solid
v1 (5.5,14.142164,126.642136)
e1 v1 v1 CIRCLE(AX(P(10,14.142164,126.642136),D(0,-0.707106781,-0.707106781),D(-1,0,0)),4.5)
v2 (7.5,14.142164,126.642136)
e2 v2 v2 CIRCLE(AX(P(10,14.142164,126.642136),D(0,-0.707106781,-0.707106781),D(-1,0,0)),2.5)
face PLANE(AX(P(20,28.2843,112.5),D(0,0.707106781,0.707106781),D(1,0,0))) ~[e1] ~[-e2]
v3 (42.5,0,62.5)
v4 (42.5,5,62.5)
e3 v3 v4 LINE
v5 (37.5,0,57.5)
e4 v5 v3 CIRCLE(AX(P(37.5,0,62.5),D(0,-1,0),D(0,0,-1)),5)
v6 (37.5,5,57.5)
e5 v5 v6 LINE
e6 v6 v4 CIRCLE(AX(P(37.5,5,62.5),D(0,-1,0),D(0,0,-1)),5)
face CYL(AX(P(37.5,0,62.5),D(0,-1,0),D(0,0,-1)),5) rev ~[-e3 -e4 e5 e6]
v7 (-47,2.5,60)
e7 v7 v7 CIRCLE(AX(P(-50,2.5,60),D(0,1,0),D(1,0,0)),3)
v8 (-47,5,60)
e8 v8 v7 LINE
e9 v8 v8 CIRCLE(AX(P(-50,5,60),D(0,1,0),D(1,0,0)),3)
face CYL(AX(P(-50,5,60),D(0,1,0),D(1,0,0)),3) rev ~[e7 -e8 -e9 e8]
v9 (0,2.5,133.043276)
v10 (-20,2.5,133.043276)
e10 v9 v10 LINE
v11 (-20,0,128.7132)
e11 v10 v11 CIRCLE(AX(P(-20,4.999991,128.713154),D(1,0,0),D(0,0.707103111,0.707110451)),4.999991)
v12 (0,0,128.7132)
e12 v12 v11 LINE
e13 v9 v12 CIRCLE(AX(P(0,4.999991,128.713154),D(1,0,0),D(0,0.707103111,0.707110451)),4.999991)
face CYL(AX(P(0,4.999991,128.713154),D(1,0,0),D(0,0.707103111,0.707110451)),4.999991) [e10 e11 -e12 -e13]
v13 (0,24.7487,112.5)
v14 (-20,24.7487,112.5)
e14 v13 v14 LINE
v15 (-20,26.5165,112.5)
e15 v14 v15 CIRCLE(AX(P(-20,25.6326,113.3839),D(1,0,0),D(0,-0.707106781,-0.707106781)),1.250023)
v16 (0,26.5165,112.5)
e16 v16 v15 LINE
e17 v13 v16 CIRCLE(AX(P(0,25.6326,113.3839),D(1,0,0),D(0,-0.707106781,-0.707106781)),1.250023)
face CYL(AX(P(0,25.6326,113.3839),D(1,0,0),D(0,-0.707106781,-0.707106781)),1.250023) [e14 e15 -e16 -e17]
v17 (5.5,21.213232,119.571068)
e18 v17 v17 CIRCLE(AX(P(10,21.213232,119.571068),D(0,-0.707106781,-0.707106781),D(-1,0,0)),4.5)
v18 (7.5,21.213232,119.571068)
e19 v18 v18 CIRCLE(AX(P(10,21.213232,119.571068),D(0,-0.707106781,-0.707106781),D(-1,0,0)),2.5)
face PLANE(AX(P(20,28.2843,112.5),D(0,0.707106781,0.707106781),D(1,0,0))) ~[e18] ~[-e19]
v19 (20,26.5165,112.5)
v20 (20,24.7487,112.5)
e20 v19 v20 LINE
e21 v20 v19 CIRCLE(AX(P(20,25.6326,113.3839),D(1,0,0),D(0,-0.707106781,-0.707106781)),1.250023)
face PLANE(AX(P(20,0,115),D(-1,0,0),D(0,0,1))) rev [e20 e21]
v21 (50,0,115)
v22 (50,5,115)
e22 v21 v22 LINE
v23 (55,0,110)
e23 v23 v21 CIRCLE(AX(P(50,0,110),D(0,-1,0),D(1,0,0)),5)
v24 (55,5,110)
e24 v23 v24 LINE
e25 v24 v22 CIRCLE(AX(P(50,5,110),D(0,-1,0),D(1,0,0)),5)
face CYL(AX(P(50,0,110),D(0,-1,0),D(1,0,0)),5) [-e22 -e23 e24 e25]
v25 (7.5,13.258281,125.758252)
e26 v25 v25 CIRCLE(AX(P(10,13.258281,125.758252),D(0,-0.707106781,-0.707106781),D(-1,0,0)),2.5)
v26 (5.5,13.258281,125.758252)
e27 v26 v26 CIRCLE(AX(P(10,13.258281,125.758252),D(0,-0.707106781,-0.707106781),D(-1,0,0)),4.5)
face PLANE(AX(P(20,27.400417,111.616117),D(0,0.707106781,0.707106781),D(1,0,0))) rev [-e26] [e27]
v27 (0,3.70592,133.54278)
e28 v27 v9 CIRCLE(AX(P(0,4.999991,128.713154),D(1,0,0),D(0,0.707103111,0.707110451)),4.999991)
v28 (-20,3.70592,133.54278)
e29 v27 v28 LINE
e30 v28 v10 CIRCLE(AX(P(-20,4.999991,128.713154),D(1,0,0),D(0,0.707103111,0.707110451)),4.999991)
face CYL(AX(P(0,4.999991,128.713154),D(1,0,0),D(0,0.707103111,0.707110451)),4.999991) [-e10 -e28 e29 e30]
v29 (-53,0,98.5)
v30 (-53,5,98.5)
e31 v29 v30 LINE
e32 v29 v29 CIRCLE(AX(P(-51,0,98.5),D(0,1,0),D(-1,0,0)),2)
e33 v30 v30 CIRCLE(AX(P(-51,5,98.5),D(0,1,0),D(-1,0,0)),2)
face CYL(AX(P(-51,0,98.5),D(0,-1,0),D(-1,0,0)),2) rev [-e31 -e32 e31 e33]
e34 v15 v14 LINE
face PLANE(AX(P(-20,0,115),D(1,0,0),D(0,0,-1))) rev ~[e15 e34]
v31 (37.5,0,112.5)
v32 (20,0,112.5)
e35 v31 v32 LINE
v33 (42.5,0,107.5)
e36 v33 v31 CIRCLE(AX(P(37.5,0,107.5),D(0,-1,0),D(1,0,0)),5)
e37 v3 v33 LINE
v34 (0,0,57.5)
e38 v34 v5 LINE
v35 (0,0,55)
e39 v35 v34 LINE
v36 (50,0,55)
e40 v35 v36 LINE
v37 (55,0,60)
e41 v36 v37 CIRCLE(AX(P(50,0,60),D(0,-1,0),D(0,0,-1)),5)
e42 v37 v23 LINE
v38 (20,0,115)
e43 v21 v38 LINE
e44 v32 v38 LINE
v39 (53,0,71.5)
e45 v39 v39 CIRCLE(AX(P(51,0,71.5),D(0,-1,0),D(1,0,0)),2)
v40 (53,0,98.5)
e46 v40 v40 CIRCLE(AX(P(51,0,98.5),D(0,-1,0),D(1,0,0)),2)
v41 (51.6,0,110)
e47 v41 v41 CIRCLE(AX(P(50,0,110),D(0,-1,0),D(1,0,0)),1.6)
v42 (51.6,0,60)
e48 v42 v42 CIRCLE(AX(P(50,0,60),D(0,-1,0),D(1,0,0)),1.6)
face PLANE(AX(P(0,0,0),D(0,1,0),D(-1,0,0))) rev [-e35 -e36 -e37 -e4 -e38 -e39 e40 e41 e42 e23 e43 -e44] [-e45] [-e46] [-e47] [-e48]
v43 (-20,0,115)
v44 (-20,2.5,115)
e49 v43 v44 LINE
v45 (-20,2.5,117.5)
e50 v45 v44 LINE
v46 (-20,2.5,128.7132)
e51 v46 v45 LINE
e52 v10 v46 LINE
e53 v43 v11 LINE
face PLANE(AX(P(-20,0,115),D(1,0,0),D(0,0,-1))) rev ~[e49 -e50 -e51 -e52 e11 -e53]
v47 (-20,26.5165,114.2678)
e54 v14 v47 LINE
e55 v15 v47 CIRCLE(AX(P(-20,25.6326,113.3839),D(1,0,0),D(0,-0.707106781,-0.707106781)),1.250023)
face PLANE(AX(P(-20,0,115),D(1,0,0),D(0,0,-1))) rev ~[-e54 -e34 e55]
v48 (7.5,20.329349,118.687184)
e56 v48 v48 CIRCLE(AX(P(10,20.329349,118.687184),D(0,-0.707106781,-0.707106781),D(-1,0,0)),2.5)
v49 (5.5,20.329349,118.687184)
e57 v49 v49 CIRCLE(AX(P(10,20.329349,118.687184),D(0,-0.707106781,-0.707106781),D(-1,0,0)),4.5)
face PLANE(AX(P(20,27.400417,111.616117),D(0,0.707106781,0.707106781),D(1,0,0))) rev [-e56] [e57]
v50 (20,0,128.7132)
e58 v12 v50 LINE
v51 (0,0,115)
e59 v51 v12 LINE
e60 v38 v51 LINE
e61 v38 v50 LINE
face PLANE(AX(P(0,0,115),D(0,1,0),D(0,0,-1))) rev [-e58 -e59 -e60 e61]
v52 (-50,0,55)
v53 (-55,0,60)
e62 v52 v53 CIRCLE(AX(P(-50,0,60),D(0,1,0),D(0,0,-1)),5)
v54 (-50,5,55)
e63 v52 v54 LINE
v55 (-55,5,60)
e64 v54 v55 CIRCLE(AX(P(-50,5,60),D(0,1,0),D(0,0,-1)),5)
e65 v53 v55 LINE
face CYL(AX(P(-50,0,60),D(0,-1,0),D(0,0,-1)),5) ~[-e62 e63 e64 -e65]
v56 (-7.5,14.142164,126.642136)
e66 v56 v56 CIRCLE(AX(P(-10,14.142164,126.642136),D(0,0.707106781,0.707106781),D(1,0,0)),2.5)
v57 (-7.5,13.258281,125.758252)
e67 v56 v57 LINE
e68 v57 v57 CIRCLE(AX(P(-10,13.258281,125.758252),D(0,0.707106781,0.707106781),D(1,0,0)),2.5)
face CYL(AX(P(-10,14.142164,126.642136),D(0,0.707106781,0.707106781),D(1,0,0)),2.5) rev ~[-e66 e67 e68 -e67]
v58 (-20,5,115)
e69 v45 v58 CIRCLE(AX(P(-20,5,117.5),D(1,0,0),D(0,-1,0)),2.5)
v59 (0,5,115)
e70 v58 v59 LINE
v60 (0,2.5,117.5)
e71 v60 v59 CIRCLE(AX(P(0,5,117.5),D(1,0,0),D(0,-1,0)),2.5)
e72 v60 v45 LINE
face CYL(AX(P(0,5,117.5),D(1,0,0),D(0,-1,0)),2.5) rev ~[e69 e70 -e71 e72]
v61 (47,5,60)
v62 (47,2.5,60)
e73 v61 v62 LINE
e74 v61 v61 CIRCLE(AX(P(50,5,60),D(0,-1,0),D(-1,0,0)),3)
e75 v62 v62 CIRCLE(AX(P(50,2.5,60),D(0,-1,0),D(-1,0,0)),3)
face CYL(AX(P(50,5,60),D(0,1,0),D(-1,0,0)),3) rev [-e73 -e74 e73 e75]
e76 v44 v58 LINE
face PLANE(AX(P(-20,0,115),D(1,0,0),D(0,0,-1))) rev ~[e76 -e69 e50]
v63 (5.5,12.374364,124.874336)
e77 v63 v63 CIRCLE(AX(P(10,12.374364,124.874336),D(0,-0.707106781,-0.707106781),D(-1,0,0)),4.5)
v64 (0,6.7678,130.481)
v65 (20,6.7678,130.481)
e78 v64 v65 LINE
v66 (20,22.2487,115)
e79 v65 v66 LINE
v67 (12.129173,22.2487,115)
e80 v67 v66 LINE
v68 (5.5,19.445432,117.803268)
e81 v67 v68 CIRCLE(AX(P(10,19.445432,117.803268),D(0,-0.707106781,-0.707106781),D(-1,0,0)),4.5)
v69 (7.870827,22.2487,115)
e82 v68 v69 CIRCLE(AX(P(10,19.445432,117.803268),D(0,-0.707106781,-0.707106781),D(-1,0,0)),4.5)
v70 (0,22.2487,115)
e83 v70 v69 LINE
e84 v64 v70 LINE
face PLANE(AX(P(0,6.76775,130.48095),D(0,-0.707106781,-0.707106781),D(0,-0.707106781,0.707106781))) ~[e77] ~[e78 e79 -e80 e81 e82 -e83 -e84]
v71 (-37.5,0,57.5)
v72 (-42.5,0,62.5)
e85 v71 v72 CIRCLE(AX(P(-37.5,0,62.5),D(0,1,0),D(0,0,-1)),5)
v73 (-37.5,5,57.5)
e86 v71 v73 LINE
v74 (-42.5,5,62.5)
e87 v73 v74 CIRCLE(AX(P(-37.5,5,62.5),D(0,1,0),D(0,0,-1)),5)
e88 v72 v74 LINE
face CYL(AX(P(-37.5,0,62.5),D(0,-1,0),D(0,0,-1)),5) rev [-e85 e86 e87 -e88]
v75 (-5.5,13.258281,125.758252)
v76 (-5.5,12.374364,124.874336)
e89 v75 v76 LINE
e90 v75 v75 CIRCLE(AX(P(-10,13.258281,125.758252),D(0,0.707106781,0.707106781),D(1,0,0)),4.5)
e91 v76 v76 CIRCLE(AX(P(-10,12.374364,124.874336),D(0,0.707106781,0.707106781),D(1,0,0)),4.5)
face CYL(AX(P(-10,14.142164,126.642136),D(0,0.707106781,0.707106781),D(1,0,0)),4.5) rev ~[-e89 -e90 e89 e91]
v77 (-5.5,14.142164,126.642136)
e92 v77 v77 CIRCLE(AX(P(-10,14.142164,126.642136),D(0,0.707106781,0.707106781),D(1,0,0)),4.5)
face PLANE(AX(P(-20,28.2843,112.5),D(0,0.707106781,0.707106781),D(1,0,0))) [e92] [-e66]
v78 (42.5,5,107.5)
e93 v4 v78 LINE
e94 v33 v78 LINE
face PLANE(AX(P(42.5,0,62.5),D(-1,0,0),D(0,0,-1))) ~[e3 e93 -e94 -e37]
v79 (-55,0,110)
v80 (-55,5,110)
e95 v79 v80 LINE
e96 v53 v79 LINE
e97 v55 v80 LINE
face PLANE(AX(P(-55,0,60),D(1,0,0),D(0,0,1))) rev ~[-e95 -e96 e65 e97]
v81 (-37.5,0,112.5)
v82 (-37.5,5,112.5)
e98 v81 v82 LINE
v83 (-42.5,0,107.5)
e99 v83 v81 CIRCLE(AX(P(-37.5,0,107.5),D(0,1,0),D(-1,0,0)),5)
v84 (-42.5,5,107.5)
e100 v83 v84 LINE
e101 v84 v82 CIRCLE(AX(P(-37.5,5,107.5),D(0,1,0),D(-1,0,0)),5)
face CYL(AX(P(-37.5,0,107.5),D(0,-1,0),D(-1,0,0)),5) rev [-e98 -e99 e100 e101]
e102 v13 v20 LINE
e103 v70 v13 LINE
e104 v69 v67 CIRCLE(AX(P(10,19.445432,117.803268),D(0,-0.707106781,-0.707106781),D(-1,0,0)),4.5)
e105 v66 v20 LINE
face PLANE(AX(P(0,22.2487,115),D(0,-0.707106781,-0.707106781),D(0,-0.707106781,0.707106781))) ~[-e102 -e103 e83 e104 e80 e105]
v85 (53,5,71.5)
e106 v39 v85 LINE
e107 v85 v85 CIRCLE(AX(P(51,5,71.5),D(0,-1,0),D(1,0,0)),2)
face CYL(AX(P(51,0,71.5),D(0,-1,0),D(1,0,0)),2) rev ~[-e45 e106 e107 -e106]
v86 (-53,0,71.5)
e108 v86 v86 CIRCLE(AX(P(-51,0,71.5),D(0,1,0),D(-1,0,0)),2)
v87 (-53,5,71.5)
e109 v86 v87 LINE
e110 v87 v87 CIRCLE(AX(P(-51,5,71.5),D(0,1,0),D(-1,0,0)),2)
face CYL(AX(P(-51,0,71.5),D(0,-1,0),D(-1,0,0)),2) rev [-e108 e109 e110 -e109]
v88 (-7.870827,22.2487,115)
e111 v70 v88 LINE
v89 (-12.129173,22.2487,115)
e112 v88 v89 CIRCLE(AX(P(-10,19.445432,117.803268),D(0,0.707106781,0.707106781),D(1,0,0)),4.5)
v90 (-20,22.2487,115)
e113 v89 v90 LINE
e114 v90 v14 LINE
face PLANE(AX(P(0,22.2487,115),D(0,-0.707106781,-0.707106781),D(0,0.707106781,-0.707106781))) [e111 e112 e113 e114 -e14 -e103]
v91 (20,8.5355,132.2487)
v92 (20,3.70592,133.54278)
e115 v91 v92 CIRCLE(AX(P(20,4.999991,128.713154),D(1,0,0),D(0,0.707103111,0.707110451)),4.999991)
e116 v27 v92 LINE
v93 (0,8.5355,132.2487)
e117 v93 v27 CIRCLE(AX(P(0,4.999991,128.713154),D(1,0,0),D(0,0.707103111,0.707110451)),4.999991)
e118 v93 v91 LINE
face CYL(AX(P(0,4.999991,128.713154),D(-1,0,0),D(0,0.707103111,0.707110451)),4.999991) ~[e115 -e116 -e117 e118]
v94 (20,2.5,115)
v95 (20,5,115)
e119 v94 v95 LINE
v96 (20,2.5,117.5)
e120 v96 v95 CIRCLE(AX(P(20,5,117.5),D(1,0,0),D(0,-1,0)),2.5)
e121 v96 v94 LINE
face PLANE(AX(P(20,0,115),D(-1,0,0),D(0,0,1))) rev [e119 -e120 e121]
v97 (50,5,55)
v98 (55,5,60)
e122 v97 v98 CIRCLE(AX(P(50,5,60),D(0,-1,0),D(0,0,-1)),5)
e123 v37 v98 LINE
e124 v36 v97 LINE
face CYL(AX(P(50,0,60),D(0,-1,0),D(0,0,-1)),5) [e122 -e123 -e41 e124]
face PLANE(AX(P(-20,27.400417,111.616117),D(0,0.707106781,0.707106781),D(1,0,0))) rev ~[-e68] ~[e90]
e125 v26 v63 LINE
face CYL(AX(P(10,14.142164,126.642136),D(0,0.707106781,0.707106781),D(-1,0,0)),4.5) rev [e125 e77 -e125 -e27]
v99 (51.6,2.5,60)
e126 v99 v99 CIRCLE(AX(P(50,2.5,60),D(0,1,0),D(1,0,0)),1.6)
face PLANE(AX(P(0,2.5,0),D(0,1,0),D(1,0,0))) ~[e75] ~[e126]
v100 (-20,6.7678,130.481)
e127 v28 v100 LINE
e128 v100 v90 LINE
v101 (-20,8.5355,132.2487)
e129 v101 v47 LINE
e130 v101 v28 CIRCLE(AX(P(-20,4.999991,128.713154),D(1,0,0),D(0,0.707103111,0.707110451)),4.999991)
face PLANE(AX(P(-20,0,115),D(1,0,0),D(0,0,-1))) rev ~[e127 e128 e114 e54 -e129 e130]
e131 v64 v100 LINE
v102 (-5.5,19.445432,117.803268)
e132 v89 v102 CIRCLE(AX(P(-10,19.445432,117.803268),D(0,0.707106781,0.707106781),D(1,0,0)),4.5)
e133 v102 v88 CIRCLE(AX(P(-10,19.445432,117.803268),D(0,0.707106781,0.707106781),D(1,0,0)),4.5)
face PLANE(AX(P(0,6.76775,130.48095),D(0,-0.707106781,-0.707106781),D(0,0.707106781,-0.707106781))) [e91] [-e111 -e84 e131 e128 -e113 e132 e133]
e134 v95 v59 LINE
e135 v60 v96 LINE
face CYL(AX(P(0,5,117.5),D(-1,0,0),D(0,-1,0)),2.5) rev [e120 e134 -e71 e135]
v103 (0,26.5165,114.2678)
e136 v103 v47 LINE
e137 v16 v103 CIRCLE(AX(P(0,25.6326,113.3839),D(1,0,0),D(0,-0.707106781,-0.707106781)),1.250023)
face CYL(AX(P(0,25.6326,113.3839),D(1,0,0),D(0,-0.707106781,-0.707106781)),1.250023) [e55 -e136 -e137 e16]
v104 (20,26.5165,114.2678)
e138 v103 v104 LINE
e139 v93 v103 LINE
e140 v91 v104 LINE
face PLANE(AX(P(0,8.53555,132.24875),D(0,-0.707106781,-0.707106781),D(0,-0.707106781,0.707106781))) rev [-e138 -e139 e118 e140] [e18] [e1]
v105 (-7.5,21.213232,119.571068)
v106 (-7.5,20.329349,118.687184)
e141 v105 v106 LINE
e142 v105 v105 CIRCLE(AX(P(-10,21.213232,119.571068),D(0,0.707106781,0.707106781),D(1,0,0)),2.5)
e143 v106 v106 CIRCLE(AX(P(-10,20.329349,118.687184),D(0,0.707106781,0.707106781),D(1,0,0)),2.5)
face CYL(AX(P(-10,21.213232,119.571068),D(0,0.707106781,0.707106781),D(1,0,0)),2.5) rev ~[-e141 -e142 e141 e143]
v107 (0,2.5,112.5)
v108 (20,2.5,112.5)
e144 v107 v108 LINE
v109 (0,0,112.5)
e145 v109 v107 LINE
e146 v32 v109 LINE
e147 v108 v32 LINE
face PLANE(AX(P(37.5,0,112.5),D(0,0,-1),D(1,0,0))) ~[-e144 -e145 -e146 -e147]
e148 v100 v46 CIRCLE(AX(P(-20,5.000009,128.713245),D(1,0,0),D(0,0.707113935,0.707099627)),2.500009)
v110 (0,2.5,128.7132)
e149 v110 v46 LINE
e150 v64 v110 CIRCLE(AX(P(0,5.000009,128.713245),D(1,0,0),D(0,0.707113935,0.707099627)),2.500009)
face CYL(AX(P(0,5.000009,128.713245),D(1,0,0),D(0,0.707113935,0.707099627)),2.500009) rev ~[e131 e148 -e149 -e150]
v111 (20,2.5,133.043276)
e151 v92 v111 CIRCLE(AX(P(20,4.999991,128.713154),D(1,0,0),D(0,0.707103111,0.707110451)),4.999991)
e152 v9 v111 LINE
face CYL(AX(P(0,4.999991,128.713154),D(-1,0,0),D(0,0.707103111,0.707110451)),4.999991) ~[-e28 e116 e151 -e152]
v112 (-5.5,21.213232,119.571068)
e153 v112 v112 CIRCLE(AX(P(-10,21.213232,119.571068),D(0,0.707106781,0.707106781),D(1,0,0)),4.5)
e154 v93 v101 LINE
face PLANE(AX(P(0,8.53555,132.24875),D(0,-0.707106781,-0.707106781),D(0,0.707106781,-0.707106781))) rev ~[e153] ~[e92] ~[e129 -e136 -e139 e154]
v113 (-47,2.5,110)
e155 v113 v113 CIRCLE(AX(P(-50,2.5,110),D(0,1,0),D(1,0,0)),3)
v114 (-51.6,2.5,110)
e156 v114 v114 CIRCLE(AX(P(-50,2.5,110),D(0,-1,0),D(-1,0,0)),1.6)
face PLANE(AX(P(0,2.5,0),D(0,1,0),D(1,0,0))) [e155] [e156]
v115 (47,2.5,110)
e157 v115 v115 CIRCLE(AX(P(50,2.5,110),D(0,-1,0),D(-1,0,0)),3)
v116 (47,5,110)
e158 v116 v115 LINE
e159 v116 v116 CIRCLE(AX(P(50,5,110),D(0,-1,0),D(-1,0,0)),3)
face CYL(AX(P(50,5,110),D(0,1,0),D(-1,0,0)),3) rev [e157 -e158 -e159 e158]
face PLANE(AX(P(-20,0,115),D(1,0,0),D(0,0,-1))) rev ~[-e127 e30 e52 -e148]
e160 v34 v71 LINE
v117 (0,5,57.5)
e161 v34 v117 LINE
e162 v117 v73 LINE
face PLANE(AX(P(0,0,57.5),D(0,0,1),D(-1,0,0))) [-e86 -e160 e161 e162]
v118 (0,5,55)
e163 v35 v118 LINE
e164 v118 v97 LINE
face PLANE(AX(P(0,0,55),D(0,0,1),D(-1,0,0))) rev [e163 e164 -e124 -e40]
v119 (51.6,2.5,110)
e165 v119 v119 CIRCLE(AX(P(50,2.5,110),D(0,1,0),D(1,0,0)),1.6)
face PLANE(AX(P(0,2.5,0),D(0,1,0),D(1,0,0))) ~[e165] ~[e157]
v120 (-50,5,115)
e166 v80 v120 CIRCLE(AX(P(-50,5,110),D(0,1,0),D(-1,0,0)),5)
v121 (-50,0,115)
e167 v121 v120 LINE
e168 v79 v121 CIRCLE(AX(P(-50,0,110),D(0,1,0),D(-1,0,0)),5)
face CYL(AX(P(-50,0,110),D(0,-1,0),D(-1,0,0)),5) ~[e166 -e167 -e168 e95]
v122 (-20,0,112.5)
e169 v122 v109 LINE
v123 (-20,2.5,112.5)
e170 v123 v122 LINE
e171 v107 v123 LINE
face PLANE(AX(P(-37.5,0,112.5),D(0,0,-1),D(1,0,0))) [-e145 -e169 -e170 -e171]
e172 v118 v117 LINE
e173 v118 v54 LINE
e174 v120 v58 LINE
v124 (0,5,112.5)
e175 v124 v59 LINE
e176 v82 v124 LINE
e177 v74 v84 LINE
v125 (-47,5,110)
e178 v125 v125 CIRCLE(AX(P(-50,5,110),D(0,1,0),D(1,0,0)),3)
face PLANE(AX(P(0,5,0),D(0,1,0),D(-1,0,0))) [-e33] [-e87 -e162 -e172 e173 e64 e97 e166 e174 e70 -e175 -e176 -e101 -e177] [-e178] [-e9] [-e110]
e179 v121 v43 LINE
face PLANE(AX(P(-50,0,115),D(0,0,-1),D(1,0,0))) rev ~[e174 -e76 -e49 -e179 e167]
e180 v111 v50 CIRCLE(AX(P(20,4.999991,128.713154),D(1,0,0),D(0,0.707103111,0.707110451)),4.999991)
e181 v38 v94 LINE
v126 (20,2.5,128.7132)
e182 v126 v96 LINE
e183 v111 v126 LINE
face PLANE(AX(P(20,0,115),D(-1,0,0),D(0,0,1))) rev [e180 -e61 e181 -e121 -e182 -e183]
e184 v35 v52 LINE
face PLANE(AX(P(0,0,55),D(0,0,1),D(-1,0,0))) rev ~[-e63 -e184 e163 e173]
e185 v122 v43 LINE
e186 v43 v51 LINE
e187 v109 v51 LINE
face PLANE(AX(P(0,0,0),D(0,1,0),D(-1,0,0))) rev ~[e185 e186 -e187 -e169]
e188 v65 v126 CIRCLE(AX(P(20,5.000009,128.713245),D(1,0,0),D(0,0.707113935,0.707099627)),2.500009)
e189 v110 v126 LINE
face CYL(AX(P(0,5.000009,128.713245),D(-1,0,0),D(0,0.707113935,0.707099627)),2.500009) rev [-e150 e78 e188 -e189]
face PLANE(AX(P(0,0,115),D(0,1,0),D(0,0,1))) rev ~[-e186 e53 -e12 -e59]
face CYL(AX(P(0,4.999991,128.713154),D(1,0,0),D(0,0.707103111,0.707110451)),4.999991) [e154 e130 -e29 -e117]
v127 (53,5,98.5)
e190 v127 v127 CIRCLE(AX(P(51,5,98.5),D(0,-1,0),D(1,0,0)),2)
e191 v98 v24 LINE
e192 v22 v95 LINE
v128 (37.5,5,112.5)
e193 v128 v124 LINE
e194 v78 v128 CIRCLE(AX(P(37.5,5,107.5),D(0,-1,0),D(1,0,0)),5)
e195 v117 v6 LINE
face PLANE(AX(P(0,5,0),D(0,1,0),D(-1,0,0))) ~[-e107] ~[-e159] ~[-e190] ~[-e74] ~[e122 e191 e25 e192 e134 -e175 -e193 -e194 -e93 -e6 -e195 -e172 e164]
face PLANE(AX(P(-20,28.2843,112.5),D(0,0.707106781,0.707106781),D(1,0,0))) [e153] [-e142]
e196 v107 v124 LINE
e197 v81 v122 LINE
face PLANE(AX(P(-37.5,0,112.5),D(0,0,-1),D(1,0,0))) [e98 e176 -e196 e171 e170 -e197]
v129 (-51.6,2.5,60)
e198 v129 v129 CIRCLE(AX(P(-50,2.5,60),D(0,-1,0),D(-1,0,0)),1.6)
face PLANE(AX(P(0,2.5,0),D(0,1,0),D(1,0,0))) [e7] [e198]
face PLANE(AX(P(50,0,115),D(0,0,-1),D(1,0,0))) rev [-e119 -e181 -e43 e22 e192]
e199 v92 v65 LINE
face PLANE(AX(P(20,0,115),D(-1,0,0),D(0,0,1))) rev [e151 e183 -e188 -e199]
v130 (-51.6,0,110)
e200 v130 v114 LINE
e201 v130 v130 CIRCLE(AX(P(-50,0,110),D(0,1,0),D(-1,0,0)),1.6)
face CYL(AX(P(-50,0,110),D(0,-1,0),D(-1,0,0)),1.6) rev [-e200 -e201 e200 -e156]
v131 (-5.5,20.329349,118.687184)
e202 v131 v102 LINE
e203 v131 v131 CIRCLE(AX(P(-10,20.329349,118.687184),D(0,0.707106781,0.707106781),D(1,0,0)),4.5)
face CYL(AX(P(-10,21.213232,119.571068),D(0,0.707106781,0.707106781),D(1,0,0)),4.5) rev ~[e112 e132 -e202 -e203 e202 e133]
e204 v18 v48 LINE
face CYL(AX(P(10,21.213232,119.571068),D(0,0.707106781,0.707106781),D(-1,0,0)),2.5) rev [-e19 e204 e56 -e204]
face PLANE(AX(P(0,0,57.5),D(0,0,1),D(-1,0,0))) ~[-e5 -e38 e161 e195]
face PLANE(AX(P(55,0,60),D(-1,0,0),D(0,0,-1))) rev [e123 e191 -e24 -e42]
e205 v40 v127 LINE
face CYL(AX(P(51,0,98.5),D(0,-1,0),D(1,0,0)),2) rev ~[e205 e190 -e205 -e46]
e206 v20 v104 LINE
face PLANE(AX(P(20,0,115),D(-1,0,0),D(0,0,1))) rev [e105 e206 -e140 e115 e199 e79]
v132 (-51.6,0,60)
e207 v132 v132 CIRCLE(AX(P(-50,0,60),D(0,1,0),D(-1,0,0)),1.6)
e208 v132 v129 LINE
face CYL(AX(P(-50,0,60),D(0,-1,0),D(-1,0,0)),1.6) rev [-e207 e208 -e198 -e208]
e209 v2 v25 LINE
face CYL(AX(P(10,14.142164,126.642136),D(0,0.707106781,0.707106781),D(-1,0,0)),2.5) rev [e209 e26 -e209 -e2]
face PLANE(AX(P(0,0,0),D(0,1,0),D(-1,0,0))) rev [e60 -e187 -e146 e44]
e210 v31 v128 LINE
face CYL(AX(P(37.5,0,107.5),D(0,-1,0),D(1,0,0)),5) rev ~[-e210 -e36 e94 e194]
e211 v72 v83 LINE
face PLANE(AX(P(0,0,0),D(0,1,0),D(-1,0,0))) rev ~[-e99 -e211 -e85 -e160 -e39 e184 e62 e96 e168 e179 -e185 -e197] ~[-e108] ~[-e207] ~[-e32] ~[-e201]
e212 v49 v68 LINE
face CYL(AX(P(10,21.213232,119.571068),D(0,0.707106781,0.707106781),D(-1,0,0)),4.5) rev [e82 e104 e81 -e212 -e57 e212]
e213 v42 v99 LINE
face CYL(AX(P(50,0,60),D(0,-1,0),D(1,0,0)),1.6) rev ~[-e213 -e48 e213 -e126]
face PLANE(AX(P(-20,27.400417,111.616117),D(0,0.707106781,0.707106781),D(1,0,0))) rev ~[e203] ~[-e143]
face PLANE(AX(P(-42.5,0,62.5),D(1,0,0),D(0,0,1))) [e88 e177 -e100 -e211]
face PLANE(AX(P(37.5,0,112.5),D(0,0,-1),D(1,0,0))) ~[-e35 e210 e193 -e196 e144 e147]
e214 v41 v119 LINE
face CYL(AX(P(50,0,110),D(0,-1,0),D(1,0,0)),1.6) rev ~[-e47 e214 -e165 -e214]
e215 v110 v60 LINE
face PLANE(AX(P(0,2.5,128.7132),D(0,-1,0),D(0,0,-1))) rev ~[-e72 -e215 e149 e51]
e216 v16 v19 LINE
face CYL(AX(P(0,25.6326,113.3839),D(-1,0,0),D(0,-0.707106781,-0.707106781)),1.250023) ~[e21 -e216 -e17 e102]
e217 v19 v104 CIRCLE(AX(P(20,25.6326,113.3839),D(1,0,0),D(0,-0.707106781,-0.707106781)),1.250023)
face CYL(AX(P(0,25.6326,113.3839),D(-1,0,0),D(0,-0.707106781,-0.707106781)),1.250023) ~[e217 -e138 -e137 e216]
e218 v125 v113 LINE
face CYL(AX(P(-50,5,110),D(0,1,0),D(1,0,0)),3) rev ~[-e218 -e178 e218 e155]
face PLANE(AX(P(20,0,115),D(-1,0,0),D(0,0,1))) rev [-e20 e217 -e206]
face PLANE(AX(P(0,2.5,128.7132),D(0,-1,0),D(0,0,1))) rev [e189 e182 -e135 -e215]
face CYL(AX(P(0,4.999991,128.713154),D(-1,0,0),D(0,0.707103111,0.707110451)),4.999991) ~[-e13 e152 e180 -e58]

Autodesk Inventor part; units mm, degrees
ref_plane "YZ Plane" through (0, 0, 0) normal (1, 0, 0) x (0, 1, 0)
ref_plane "XZ Plane" through (0, 0, 0) normal (0, 1, 0) x (-1, 0, 0)
ref_plane "XY Plane" through (0, 0, 0) normal (0, 0, 1) x (1, 0, 0)
sketch "Sketch1" plane through (0, 0, 0) normal (0, 1, 0) x (-1, 0, 0)
  line L0 (0, 0) -> (0, 150.5)
  line L1 (47.6822, -16.05) -> (47.6822, -184.7082) construction
  line L2 (47.6822, -184.7082) -> (-45.5409, -184.7082) construction
  line L3 (-45.5409, -184.7082) -> (-45.5409, -16.05) construction
  line L4 (-45.5409, -16.05) -> (47.6822, -16.05) construction
  line L5 (51, 71) -> (51, 72) construction
  line L6 (53, 71) -> (53, 72) construction
  line L7 (49, 72) -> (49, 71) construction
  arc A0 (49, 71) -> (53, 71) centre (51, 71) ccw construction
  arc A1 (53, 72) -> (49, 72) centre (51, 72) ccw construction
  line L8 (0, 85) -> (64.5191, 85) construction
  line L9 (51, 99) -> (51, 98) construction
  line L10 (53, 99) -> (53, 98) construction
  line L11 (49, 98) -> (49, 99) construction
  arc A2 (53, 99) -> (49, 99) centre (51, 99) ccw construction
  arc A3 (49, 98) -> (53, 98) centre (51, 98) ccw construction
  line L12 (50, 115) -> (-55, 115)
  line L13 (-55, 115) -> (-55, 55) construction
  line L14 (-55, 55) -> (50, 55)
  line L15 (55, 60) -> (55, 110)
  circle A4 centre (50, 60) radius 1.6
  circle A5 centre (51, 71.5) radius 2
  circle A6 centre (51, 98.5) radius 2
  line L16 (0, 57.5) -> (37.5, 57.5)
  line L17 (42.5, 62.5) -> (42.5, 107.5)
  line L18 (37.5, 112.5) -> (0, 112.5)
  circle A7 centre (50, 110) radius 1.6
  line L19 (50, 60) -> (50, 110) construction
  arc A8 (50, 55) -> (55, 60) centre (50, 60) ccw
  arc A9 (55, 110) -> (50, 115) centre (50, 110) ccw
  arc A10 (37.5, 57.5) -> (42.5, 62.5) centre (37.5, 62.5) ccw
  arc A11 (42.5, 107.5) -> (37.5, 112.5) centre (37.5, 107.5) ccw
  point P0 (51, 74)
  point P1 (51, 69)
  point P2 (51, 96)
  point P3 (51, 101)
  point P4 (55, 115)
  point P5 (55, 55)
  point P6 (0, 55)
  point P7 (0, 115)
  point P8 (42.5, 57.5)
  point P9 (42.5, 112.5)
  point P10 (0, 113)
  dimension "d9" = 4
  dimension "d10" = 5
  dimension "d12" = 51
  dimension "d22" = 27
  dimension "d29" = 110
  dimension "d31" = 55
  dimension "d85" = 2.5
  dimension "d86" = 42.5
  dimension "d91" = 3.2
  dimension "d92" = 50
  dimension "d99" = 5
extrude "Extrusion1" add sketch "Sketch1" along normal blind 5 contours L16 A10 L17 A11 L18 L0 L12 A9 L15 A8 L14
sketch "Sketch4" plane through (0, 5, 0) normal (0, 1, 0) x (1, 0, 0)
  circle A0 centre (-50, -60) radius 1.6 construction
  circle A1 centre (-50, -60) radius 3
  circle A2 centre (-50, -110) radius 1.6 construction
  circle A3 centre (-50, -110) radius 3
  point P0 (0, 0)
  dimension "d93" = 6
extrude "Extrusion5" cut sketch "Sketch4" against normal blind 2.5
sketch "Sketch7" plane through (0, 0, 115) normal (1, 0, 0) x (0, 0, -1)
  line L0 (0, 0) -> (2.5, 0) construction
  line L1 (2.5, 0) -> (2.5, 5) construction
  line L2 (0, 5) -> (2.5, 5) construction
  line L3 (0, 0) -> (0, 5) projected
  line L4 (2.5, 0) -> (-25.7843, 0)
  line L5 (-25.7843, 0) -> (2.5, 28.2843)
  line L6 (2.5, 28.2843) -> (2.5, 0)
  line L7 (2.5, 0) -> (2.5, 5) projected
  line L8 (-22.2487, 0) -> (2.5, 24.7487)
  line L9 (0, 5) -> (0, 22.2487)
  line L10 (-23.2843, 2.5) -> (2.5, 2.5)
  line L11 (2.5, 24.7487) -> (0.7322, 26.5165)
  arc A0 (2.5, 24.7487) -> (0.7322, 26.5165) centre (1.6161, 25.6326) ccw
  arc A1 (-17.2487, 8.5355) -> (-13.7132, 0) centre (-13.7132, 5) ccw
  arc A2 (-15.481, 6.7678) -> (-13.7132, 2.5) centre (-13.7132, 5) ccw
  line L12 (-11.6421, 14.1421) -> (-17.2639, 19.7639) construction
  arc A3 (-2.5, 2.5) -> (0, 5) centre (-2.5, 5) ccw
  line L13 (0, 0) -> (0, 5) projected
  point P0 (115, 0)
  point P1 (-19.7487, 2.5)
  point P2 (0, 2.5)
  dimension "d159" = 2.5
  dimension "d160" = 45
  dimension "d161" = 40
  dimension "d184" = 2.5
  dimension "d197" = 5
extrude "Extrusion15" add sketch "Sketch7" against normal blind 20 contours L4 A1 L10 L3 | L3 L10 L6 L4 | L10 A3 L3 | A1 L8 A2 L10 | L8 A1 L5 L11 | L11 A0 L6 | L6 A0
sketch "Sketch9" plane through (-20, 28.2843, 112.5) normal (0, 0.7071, 0.7071) x (1, 0, 0)
  circle A0 centre (10, -10) radius 2.5
  line L0 (20, -2.5) -> (20, -27.9289) construction
  line L1 (0, -27.9289) -> (0, -2.5) construction
  line L2 (0, -15) -> (20, -15) construction
  circle A1 centre (10, -20) radius 2.5
  line L3 (20, -27.9289) -> (0, -27.9289) construction
  circle A2 centre (10, -10) radius 4.5
  circle A3 centre (10, -10) radius 5 construction
  line L4 (10, -20) -> (10, -10) construction
  line L5 (10, -10) -> (20, -10) construction
  line L6 (10, -20) -> (20, -20) construction
  circle A4 centre (10, -20) radius 4.5
  circle A5 centre (10, -20) radius 5 construction
  line L7 (20, -2.5) -> (0, -2.5) construction
  line L8 (20, 0) -> (0, 0) construction
  point P0 (20, 59.5495)
  dimension "d183" = 5
  dimension "d187" = 9
  dimension "d188" = 10
  dimension "d189" = 10
  dimension "d195" = 2.5
  dimension "d196" = 15
  dimension "d198" = 10
extrude "Extrusion16" cut sketch "Sketch9" against normal up to next contours A0 | A1 | A2 | A4
extrude "Extrusion17" add sketch "Sketch9" against normal blind 1.25
mirror "Mirror2" about plane through (0, 0, 0) normal (1, 0, 0)
properties part number "pad"
